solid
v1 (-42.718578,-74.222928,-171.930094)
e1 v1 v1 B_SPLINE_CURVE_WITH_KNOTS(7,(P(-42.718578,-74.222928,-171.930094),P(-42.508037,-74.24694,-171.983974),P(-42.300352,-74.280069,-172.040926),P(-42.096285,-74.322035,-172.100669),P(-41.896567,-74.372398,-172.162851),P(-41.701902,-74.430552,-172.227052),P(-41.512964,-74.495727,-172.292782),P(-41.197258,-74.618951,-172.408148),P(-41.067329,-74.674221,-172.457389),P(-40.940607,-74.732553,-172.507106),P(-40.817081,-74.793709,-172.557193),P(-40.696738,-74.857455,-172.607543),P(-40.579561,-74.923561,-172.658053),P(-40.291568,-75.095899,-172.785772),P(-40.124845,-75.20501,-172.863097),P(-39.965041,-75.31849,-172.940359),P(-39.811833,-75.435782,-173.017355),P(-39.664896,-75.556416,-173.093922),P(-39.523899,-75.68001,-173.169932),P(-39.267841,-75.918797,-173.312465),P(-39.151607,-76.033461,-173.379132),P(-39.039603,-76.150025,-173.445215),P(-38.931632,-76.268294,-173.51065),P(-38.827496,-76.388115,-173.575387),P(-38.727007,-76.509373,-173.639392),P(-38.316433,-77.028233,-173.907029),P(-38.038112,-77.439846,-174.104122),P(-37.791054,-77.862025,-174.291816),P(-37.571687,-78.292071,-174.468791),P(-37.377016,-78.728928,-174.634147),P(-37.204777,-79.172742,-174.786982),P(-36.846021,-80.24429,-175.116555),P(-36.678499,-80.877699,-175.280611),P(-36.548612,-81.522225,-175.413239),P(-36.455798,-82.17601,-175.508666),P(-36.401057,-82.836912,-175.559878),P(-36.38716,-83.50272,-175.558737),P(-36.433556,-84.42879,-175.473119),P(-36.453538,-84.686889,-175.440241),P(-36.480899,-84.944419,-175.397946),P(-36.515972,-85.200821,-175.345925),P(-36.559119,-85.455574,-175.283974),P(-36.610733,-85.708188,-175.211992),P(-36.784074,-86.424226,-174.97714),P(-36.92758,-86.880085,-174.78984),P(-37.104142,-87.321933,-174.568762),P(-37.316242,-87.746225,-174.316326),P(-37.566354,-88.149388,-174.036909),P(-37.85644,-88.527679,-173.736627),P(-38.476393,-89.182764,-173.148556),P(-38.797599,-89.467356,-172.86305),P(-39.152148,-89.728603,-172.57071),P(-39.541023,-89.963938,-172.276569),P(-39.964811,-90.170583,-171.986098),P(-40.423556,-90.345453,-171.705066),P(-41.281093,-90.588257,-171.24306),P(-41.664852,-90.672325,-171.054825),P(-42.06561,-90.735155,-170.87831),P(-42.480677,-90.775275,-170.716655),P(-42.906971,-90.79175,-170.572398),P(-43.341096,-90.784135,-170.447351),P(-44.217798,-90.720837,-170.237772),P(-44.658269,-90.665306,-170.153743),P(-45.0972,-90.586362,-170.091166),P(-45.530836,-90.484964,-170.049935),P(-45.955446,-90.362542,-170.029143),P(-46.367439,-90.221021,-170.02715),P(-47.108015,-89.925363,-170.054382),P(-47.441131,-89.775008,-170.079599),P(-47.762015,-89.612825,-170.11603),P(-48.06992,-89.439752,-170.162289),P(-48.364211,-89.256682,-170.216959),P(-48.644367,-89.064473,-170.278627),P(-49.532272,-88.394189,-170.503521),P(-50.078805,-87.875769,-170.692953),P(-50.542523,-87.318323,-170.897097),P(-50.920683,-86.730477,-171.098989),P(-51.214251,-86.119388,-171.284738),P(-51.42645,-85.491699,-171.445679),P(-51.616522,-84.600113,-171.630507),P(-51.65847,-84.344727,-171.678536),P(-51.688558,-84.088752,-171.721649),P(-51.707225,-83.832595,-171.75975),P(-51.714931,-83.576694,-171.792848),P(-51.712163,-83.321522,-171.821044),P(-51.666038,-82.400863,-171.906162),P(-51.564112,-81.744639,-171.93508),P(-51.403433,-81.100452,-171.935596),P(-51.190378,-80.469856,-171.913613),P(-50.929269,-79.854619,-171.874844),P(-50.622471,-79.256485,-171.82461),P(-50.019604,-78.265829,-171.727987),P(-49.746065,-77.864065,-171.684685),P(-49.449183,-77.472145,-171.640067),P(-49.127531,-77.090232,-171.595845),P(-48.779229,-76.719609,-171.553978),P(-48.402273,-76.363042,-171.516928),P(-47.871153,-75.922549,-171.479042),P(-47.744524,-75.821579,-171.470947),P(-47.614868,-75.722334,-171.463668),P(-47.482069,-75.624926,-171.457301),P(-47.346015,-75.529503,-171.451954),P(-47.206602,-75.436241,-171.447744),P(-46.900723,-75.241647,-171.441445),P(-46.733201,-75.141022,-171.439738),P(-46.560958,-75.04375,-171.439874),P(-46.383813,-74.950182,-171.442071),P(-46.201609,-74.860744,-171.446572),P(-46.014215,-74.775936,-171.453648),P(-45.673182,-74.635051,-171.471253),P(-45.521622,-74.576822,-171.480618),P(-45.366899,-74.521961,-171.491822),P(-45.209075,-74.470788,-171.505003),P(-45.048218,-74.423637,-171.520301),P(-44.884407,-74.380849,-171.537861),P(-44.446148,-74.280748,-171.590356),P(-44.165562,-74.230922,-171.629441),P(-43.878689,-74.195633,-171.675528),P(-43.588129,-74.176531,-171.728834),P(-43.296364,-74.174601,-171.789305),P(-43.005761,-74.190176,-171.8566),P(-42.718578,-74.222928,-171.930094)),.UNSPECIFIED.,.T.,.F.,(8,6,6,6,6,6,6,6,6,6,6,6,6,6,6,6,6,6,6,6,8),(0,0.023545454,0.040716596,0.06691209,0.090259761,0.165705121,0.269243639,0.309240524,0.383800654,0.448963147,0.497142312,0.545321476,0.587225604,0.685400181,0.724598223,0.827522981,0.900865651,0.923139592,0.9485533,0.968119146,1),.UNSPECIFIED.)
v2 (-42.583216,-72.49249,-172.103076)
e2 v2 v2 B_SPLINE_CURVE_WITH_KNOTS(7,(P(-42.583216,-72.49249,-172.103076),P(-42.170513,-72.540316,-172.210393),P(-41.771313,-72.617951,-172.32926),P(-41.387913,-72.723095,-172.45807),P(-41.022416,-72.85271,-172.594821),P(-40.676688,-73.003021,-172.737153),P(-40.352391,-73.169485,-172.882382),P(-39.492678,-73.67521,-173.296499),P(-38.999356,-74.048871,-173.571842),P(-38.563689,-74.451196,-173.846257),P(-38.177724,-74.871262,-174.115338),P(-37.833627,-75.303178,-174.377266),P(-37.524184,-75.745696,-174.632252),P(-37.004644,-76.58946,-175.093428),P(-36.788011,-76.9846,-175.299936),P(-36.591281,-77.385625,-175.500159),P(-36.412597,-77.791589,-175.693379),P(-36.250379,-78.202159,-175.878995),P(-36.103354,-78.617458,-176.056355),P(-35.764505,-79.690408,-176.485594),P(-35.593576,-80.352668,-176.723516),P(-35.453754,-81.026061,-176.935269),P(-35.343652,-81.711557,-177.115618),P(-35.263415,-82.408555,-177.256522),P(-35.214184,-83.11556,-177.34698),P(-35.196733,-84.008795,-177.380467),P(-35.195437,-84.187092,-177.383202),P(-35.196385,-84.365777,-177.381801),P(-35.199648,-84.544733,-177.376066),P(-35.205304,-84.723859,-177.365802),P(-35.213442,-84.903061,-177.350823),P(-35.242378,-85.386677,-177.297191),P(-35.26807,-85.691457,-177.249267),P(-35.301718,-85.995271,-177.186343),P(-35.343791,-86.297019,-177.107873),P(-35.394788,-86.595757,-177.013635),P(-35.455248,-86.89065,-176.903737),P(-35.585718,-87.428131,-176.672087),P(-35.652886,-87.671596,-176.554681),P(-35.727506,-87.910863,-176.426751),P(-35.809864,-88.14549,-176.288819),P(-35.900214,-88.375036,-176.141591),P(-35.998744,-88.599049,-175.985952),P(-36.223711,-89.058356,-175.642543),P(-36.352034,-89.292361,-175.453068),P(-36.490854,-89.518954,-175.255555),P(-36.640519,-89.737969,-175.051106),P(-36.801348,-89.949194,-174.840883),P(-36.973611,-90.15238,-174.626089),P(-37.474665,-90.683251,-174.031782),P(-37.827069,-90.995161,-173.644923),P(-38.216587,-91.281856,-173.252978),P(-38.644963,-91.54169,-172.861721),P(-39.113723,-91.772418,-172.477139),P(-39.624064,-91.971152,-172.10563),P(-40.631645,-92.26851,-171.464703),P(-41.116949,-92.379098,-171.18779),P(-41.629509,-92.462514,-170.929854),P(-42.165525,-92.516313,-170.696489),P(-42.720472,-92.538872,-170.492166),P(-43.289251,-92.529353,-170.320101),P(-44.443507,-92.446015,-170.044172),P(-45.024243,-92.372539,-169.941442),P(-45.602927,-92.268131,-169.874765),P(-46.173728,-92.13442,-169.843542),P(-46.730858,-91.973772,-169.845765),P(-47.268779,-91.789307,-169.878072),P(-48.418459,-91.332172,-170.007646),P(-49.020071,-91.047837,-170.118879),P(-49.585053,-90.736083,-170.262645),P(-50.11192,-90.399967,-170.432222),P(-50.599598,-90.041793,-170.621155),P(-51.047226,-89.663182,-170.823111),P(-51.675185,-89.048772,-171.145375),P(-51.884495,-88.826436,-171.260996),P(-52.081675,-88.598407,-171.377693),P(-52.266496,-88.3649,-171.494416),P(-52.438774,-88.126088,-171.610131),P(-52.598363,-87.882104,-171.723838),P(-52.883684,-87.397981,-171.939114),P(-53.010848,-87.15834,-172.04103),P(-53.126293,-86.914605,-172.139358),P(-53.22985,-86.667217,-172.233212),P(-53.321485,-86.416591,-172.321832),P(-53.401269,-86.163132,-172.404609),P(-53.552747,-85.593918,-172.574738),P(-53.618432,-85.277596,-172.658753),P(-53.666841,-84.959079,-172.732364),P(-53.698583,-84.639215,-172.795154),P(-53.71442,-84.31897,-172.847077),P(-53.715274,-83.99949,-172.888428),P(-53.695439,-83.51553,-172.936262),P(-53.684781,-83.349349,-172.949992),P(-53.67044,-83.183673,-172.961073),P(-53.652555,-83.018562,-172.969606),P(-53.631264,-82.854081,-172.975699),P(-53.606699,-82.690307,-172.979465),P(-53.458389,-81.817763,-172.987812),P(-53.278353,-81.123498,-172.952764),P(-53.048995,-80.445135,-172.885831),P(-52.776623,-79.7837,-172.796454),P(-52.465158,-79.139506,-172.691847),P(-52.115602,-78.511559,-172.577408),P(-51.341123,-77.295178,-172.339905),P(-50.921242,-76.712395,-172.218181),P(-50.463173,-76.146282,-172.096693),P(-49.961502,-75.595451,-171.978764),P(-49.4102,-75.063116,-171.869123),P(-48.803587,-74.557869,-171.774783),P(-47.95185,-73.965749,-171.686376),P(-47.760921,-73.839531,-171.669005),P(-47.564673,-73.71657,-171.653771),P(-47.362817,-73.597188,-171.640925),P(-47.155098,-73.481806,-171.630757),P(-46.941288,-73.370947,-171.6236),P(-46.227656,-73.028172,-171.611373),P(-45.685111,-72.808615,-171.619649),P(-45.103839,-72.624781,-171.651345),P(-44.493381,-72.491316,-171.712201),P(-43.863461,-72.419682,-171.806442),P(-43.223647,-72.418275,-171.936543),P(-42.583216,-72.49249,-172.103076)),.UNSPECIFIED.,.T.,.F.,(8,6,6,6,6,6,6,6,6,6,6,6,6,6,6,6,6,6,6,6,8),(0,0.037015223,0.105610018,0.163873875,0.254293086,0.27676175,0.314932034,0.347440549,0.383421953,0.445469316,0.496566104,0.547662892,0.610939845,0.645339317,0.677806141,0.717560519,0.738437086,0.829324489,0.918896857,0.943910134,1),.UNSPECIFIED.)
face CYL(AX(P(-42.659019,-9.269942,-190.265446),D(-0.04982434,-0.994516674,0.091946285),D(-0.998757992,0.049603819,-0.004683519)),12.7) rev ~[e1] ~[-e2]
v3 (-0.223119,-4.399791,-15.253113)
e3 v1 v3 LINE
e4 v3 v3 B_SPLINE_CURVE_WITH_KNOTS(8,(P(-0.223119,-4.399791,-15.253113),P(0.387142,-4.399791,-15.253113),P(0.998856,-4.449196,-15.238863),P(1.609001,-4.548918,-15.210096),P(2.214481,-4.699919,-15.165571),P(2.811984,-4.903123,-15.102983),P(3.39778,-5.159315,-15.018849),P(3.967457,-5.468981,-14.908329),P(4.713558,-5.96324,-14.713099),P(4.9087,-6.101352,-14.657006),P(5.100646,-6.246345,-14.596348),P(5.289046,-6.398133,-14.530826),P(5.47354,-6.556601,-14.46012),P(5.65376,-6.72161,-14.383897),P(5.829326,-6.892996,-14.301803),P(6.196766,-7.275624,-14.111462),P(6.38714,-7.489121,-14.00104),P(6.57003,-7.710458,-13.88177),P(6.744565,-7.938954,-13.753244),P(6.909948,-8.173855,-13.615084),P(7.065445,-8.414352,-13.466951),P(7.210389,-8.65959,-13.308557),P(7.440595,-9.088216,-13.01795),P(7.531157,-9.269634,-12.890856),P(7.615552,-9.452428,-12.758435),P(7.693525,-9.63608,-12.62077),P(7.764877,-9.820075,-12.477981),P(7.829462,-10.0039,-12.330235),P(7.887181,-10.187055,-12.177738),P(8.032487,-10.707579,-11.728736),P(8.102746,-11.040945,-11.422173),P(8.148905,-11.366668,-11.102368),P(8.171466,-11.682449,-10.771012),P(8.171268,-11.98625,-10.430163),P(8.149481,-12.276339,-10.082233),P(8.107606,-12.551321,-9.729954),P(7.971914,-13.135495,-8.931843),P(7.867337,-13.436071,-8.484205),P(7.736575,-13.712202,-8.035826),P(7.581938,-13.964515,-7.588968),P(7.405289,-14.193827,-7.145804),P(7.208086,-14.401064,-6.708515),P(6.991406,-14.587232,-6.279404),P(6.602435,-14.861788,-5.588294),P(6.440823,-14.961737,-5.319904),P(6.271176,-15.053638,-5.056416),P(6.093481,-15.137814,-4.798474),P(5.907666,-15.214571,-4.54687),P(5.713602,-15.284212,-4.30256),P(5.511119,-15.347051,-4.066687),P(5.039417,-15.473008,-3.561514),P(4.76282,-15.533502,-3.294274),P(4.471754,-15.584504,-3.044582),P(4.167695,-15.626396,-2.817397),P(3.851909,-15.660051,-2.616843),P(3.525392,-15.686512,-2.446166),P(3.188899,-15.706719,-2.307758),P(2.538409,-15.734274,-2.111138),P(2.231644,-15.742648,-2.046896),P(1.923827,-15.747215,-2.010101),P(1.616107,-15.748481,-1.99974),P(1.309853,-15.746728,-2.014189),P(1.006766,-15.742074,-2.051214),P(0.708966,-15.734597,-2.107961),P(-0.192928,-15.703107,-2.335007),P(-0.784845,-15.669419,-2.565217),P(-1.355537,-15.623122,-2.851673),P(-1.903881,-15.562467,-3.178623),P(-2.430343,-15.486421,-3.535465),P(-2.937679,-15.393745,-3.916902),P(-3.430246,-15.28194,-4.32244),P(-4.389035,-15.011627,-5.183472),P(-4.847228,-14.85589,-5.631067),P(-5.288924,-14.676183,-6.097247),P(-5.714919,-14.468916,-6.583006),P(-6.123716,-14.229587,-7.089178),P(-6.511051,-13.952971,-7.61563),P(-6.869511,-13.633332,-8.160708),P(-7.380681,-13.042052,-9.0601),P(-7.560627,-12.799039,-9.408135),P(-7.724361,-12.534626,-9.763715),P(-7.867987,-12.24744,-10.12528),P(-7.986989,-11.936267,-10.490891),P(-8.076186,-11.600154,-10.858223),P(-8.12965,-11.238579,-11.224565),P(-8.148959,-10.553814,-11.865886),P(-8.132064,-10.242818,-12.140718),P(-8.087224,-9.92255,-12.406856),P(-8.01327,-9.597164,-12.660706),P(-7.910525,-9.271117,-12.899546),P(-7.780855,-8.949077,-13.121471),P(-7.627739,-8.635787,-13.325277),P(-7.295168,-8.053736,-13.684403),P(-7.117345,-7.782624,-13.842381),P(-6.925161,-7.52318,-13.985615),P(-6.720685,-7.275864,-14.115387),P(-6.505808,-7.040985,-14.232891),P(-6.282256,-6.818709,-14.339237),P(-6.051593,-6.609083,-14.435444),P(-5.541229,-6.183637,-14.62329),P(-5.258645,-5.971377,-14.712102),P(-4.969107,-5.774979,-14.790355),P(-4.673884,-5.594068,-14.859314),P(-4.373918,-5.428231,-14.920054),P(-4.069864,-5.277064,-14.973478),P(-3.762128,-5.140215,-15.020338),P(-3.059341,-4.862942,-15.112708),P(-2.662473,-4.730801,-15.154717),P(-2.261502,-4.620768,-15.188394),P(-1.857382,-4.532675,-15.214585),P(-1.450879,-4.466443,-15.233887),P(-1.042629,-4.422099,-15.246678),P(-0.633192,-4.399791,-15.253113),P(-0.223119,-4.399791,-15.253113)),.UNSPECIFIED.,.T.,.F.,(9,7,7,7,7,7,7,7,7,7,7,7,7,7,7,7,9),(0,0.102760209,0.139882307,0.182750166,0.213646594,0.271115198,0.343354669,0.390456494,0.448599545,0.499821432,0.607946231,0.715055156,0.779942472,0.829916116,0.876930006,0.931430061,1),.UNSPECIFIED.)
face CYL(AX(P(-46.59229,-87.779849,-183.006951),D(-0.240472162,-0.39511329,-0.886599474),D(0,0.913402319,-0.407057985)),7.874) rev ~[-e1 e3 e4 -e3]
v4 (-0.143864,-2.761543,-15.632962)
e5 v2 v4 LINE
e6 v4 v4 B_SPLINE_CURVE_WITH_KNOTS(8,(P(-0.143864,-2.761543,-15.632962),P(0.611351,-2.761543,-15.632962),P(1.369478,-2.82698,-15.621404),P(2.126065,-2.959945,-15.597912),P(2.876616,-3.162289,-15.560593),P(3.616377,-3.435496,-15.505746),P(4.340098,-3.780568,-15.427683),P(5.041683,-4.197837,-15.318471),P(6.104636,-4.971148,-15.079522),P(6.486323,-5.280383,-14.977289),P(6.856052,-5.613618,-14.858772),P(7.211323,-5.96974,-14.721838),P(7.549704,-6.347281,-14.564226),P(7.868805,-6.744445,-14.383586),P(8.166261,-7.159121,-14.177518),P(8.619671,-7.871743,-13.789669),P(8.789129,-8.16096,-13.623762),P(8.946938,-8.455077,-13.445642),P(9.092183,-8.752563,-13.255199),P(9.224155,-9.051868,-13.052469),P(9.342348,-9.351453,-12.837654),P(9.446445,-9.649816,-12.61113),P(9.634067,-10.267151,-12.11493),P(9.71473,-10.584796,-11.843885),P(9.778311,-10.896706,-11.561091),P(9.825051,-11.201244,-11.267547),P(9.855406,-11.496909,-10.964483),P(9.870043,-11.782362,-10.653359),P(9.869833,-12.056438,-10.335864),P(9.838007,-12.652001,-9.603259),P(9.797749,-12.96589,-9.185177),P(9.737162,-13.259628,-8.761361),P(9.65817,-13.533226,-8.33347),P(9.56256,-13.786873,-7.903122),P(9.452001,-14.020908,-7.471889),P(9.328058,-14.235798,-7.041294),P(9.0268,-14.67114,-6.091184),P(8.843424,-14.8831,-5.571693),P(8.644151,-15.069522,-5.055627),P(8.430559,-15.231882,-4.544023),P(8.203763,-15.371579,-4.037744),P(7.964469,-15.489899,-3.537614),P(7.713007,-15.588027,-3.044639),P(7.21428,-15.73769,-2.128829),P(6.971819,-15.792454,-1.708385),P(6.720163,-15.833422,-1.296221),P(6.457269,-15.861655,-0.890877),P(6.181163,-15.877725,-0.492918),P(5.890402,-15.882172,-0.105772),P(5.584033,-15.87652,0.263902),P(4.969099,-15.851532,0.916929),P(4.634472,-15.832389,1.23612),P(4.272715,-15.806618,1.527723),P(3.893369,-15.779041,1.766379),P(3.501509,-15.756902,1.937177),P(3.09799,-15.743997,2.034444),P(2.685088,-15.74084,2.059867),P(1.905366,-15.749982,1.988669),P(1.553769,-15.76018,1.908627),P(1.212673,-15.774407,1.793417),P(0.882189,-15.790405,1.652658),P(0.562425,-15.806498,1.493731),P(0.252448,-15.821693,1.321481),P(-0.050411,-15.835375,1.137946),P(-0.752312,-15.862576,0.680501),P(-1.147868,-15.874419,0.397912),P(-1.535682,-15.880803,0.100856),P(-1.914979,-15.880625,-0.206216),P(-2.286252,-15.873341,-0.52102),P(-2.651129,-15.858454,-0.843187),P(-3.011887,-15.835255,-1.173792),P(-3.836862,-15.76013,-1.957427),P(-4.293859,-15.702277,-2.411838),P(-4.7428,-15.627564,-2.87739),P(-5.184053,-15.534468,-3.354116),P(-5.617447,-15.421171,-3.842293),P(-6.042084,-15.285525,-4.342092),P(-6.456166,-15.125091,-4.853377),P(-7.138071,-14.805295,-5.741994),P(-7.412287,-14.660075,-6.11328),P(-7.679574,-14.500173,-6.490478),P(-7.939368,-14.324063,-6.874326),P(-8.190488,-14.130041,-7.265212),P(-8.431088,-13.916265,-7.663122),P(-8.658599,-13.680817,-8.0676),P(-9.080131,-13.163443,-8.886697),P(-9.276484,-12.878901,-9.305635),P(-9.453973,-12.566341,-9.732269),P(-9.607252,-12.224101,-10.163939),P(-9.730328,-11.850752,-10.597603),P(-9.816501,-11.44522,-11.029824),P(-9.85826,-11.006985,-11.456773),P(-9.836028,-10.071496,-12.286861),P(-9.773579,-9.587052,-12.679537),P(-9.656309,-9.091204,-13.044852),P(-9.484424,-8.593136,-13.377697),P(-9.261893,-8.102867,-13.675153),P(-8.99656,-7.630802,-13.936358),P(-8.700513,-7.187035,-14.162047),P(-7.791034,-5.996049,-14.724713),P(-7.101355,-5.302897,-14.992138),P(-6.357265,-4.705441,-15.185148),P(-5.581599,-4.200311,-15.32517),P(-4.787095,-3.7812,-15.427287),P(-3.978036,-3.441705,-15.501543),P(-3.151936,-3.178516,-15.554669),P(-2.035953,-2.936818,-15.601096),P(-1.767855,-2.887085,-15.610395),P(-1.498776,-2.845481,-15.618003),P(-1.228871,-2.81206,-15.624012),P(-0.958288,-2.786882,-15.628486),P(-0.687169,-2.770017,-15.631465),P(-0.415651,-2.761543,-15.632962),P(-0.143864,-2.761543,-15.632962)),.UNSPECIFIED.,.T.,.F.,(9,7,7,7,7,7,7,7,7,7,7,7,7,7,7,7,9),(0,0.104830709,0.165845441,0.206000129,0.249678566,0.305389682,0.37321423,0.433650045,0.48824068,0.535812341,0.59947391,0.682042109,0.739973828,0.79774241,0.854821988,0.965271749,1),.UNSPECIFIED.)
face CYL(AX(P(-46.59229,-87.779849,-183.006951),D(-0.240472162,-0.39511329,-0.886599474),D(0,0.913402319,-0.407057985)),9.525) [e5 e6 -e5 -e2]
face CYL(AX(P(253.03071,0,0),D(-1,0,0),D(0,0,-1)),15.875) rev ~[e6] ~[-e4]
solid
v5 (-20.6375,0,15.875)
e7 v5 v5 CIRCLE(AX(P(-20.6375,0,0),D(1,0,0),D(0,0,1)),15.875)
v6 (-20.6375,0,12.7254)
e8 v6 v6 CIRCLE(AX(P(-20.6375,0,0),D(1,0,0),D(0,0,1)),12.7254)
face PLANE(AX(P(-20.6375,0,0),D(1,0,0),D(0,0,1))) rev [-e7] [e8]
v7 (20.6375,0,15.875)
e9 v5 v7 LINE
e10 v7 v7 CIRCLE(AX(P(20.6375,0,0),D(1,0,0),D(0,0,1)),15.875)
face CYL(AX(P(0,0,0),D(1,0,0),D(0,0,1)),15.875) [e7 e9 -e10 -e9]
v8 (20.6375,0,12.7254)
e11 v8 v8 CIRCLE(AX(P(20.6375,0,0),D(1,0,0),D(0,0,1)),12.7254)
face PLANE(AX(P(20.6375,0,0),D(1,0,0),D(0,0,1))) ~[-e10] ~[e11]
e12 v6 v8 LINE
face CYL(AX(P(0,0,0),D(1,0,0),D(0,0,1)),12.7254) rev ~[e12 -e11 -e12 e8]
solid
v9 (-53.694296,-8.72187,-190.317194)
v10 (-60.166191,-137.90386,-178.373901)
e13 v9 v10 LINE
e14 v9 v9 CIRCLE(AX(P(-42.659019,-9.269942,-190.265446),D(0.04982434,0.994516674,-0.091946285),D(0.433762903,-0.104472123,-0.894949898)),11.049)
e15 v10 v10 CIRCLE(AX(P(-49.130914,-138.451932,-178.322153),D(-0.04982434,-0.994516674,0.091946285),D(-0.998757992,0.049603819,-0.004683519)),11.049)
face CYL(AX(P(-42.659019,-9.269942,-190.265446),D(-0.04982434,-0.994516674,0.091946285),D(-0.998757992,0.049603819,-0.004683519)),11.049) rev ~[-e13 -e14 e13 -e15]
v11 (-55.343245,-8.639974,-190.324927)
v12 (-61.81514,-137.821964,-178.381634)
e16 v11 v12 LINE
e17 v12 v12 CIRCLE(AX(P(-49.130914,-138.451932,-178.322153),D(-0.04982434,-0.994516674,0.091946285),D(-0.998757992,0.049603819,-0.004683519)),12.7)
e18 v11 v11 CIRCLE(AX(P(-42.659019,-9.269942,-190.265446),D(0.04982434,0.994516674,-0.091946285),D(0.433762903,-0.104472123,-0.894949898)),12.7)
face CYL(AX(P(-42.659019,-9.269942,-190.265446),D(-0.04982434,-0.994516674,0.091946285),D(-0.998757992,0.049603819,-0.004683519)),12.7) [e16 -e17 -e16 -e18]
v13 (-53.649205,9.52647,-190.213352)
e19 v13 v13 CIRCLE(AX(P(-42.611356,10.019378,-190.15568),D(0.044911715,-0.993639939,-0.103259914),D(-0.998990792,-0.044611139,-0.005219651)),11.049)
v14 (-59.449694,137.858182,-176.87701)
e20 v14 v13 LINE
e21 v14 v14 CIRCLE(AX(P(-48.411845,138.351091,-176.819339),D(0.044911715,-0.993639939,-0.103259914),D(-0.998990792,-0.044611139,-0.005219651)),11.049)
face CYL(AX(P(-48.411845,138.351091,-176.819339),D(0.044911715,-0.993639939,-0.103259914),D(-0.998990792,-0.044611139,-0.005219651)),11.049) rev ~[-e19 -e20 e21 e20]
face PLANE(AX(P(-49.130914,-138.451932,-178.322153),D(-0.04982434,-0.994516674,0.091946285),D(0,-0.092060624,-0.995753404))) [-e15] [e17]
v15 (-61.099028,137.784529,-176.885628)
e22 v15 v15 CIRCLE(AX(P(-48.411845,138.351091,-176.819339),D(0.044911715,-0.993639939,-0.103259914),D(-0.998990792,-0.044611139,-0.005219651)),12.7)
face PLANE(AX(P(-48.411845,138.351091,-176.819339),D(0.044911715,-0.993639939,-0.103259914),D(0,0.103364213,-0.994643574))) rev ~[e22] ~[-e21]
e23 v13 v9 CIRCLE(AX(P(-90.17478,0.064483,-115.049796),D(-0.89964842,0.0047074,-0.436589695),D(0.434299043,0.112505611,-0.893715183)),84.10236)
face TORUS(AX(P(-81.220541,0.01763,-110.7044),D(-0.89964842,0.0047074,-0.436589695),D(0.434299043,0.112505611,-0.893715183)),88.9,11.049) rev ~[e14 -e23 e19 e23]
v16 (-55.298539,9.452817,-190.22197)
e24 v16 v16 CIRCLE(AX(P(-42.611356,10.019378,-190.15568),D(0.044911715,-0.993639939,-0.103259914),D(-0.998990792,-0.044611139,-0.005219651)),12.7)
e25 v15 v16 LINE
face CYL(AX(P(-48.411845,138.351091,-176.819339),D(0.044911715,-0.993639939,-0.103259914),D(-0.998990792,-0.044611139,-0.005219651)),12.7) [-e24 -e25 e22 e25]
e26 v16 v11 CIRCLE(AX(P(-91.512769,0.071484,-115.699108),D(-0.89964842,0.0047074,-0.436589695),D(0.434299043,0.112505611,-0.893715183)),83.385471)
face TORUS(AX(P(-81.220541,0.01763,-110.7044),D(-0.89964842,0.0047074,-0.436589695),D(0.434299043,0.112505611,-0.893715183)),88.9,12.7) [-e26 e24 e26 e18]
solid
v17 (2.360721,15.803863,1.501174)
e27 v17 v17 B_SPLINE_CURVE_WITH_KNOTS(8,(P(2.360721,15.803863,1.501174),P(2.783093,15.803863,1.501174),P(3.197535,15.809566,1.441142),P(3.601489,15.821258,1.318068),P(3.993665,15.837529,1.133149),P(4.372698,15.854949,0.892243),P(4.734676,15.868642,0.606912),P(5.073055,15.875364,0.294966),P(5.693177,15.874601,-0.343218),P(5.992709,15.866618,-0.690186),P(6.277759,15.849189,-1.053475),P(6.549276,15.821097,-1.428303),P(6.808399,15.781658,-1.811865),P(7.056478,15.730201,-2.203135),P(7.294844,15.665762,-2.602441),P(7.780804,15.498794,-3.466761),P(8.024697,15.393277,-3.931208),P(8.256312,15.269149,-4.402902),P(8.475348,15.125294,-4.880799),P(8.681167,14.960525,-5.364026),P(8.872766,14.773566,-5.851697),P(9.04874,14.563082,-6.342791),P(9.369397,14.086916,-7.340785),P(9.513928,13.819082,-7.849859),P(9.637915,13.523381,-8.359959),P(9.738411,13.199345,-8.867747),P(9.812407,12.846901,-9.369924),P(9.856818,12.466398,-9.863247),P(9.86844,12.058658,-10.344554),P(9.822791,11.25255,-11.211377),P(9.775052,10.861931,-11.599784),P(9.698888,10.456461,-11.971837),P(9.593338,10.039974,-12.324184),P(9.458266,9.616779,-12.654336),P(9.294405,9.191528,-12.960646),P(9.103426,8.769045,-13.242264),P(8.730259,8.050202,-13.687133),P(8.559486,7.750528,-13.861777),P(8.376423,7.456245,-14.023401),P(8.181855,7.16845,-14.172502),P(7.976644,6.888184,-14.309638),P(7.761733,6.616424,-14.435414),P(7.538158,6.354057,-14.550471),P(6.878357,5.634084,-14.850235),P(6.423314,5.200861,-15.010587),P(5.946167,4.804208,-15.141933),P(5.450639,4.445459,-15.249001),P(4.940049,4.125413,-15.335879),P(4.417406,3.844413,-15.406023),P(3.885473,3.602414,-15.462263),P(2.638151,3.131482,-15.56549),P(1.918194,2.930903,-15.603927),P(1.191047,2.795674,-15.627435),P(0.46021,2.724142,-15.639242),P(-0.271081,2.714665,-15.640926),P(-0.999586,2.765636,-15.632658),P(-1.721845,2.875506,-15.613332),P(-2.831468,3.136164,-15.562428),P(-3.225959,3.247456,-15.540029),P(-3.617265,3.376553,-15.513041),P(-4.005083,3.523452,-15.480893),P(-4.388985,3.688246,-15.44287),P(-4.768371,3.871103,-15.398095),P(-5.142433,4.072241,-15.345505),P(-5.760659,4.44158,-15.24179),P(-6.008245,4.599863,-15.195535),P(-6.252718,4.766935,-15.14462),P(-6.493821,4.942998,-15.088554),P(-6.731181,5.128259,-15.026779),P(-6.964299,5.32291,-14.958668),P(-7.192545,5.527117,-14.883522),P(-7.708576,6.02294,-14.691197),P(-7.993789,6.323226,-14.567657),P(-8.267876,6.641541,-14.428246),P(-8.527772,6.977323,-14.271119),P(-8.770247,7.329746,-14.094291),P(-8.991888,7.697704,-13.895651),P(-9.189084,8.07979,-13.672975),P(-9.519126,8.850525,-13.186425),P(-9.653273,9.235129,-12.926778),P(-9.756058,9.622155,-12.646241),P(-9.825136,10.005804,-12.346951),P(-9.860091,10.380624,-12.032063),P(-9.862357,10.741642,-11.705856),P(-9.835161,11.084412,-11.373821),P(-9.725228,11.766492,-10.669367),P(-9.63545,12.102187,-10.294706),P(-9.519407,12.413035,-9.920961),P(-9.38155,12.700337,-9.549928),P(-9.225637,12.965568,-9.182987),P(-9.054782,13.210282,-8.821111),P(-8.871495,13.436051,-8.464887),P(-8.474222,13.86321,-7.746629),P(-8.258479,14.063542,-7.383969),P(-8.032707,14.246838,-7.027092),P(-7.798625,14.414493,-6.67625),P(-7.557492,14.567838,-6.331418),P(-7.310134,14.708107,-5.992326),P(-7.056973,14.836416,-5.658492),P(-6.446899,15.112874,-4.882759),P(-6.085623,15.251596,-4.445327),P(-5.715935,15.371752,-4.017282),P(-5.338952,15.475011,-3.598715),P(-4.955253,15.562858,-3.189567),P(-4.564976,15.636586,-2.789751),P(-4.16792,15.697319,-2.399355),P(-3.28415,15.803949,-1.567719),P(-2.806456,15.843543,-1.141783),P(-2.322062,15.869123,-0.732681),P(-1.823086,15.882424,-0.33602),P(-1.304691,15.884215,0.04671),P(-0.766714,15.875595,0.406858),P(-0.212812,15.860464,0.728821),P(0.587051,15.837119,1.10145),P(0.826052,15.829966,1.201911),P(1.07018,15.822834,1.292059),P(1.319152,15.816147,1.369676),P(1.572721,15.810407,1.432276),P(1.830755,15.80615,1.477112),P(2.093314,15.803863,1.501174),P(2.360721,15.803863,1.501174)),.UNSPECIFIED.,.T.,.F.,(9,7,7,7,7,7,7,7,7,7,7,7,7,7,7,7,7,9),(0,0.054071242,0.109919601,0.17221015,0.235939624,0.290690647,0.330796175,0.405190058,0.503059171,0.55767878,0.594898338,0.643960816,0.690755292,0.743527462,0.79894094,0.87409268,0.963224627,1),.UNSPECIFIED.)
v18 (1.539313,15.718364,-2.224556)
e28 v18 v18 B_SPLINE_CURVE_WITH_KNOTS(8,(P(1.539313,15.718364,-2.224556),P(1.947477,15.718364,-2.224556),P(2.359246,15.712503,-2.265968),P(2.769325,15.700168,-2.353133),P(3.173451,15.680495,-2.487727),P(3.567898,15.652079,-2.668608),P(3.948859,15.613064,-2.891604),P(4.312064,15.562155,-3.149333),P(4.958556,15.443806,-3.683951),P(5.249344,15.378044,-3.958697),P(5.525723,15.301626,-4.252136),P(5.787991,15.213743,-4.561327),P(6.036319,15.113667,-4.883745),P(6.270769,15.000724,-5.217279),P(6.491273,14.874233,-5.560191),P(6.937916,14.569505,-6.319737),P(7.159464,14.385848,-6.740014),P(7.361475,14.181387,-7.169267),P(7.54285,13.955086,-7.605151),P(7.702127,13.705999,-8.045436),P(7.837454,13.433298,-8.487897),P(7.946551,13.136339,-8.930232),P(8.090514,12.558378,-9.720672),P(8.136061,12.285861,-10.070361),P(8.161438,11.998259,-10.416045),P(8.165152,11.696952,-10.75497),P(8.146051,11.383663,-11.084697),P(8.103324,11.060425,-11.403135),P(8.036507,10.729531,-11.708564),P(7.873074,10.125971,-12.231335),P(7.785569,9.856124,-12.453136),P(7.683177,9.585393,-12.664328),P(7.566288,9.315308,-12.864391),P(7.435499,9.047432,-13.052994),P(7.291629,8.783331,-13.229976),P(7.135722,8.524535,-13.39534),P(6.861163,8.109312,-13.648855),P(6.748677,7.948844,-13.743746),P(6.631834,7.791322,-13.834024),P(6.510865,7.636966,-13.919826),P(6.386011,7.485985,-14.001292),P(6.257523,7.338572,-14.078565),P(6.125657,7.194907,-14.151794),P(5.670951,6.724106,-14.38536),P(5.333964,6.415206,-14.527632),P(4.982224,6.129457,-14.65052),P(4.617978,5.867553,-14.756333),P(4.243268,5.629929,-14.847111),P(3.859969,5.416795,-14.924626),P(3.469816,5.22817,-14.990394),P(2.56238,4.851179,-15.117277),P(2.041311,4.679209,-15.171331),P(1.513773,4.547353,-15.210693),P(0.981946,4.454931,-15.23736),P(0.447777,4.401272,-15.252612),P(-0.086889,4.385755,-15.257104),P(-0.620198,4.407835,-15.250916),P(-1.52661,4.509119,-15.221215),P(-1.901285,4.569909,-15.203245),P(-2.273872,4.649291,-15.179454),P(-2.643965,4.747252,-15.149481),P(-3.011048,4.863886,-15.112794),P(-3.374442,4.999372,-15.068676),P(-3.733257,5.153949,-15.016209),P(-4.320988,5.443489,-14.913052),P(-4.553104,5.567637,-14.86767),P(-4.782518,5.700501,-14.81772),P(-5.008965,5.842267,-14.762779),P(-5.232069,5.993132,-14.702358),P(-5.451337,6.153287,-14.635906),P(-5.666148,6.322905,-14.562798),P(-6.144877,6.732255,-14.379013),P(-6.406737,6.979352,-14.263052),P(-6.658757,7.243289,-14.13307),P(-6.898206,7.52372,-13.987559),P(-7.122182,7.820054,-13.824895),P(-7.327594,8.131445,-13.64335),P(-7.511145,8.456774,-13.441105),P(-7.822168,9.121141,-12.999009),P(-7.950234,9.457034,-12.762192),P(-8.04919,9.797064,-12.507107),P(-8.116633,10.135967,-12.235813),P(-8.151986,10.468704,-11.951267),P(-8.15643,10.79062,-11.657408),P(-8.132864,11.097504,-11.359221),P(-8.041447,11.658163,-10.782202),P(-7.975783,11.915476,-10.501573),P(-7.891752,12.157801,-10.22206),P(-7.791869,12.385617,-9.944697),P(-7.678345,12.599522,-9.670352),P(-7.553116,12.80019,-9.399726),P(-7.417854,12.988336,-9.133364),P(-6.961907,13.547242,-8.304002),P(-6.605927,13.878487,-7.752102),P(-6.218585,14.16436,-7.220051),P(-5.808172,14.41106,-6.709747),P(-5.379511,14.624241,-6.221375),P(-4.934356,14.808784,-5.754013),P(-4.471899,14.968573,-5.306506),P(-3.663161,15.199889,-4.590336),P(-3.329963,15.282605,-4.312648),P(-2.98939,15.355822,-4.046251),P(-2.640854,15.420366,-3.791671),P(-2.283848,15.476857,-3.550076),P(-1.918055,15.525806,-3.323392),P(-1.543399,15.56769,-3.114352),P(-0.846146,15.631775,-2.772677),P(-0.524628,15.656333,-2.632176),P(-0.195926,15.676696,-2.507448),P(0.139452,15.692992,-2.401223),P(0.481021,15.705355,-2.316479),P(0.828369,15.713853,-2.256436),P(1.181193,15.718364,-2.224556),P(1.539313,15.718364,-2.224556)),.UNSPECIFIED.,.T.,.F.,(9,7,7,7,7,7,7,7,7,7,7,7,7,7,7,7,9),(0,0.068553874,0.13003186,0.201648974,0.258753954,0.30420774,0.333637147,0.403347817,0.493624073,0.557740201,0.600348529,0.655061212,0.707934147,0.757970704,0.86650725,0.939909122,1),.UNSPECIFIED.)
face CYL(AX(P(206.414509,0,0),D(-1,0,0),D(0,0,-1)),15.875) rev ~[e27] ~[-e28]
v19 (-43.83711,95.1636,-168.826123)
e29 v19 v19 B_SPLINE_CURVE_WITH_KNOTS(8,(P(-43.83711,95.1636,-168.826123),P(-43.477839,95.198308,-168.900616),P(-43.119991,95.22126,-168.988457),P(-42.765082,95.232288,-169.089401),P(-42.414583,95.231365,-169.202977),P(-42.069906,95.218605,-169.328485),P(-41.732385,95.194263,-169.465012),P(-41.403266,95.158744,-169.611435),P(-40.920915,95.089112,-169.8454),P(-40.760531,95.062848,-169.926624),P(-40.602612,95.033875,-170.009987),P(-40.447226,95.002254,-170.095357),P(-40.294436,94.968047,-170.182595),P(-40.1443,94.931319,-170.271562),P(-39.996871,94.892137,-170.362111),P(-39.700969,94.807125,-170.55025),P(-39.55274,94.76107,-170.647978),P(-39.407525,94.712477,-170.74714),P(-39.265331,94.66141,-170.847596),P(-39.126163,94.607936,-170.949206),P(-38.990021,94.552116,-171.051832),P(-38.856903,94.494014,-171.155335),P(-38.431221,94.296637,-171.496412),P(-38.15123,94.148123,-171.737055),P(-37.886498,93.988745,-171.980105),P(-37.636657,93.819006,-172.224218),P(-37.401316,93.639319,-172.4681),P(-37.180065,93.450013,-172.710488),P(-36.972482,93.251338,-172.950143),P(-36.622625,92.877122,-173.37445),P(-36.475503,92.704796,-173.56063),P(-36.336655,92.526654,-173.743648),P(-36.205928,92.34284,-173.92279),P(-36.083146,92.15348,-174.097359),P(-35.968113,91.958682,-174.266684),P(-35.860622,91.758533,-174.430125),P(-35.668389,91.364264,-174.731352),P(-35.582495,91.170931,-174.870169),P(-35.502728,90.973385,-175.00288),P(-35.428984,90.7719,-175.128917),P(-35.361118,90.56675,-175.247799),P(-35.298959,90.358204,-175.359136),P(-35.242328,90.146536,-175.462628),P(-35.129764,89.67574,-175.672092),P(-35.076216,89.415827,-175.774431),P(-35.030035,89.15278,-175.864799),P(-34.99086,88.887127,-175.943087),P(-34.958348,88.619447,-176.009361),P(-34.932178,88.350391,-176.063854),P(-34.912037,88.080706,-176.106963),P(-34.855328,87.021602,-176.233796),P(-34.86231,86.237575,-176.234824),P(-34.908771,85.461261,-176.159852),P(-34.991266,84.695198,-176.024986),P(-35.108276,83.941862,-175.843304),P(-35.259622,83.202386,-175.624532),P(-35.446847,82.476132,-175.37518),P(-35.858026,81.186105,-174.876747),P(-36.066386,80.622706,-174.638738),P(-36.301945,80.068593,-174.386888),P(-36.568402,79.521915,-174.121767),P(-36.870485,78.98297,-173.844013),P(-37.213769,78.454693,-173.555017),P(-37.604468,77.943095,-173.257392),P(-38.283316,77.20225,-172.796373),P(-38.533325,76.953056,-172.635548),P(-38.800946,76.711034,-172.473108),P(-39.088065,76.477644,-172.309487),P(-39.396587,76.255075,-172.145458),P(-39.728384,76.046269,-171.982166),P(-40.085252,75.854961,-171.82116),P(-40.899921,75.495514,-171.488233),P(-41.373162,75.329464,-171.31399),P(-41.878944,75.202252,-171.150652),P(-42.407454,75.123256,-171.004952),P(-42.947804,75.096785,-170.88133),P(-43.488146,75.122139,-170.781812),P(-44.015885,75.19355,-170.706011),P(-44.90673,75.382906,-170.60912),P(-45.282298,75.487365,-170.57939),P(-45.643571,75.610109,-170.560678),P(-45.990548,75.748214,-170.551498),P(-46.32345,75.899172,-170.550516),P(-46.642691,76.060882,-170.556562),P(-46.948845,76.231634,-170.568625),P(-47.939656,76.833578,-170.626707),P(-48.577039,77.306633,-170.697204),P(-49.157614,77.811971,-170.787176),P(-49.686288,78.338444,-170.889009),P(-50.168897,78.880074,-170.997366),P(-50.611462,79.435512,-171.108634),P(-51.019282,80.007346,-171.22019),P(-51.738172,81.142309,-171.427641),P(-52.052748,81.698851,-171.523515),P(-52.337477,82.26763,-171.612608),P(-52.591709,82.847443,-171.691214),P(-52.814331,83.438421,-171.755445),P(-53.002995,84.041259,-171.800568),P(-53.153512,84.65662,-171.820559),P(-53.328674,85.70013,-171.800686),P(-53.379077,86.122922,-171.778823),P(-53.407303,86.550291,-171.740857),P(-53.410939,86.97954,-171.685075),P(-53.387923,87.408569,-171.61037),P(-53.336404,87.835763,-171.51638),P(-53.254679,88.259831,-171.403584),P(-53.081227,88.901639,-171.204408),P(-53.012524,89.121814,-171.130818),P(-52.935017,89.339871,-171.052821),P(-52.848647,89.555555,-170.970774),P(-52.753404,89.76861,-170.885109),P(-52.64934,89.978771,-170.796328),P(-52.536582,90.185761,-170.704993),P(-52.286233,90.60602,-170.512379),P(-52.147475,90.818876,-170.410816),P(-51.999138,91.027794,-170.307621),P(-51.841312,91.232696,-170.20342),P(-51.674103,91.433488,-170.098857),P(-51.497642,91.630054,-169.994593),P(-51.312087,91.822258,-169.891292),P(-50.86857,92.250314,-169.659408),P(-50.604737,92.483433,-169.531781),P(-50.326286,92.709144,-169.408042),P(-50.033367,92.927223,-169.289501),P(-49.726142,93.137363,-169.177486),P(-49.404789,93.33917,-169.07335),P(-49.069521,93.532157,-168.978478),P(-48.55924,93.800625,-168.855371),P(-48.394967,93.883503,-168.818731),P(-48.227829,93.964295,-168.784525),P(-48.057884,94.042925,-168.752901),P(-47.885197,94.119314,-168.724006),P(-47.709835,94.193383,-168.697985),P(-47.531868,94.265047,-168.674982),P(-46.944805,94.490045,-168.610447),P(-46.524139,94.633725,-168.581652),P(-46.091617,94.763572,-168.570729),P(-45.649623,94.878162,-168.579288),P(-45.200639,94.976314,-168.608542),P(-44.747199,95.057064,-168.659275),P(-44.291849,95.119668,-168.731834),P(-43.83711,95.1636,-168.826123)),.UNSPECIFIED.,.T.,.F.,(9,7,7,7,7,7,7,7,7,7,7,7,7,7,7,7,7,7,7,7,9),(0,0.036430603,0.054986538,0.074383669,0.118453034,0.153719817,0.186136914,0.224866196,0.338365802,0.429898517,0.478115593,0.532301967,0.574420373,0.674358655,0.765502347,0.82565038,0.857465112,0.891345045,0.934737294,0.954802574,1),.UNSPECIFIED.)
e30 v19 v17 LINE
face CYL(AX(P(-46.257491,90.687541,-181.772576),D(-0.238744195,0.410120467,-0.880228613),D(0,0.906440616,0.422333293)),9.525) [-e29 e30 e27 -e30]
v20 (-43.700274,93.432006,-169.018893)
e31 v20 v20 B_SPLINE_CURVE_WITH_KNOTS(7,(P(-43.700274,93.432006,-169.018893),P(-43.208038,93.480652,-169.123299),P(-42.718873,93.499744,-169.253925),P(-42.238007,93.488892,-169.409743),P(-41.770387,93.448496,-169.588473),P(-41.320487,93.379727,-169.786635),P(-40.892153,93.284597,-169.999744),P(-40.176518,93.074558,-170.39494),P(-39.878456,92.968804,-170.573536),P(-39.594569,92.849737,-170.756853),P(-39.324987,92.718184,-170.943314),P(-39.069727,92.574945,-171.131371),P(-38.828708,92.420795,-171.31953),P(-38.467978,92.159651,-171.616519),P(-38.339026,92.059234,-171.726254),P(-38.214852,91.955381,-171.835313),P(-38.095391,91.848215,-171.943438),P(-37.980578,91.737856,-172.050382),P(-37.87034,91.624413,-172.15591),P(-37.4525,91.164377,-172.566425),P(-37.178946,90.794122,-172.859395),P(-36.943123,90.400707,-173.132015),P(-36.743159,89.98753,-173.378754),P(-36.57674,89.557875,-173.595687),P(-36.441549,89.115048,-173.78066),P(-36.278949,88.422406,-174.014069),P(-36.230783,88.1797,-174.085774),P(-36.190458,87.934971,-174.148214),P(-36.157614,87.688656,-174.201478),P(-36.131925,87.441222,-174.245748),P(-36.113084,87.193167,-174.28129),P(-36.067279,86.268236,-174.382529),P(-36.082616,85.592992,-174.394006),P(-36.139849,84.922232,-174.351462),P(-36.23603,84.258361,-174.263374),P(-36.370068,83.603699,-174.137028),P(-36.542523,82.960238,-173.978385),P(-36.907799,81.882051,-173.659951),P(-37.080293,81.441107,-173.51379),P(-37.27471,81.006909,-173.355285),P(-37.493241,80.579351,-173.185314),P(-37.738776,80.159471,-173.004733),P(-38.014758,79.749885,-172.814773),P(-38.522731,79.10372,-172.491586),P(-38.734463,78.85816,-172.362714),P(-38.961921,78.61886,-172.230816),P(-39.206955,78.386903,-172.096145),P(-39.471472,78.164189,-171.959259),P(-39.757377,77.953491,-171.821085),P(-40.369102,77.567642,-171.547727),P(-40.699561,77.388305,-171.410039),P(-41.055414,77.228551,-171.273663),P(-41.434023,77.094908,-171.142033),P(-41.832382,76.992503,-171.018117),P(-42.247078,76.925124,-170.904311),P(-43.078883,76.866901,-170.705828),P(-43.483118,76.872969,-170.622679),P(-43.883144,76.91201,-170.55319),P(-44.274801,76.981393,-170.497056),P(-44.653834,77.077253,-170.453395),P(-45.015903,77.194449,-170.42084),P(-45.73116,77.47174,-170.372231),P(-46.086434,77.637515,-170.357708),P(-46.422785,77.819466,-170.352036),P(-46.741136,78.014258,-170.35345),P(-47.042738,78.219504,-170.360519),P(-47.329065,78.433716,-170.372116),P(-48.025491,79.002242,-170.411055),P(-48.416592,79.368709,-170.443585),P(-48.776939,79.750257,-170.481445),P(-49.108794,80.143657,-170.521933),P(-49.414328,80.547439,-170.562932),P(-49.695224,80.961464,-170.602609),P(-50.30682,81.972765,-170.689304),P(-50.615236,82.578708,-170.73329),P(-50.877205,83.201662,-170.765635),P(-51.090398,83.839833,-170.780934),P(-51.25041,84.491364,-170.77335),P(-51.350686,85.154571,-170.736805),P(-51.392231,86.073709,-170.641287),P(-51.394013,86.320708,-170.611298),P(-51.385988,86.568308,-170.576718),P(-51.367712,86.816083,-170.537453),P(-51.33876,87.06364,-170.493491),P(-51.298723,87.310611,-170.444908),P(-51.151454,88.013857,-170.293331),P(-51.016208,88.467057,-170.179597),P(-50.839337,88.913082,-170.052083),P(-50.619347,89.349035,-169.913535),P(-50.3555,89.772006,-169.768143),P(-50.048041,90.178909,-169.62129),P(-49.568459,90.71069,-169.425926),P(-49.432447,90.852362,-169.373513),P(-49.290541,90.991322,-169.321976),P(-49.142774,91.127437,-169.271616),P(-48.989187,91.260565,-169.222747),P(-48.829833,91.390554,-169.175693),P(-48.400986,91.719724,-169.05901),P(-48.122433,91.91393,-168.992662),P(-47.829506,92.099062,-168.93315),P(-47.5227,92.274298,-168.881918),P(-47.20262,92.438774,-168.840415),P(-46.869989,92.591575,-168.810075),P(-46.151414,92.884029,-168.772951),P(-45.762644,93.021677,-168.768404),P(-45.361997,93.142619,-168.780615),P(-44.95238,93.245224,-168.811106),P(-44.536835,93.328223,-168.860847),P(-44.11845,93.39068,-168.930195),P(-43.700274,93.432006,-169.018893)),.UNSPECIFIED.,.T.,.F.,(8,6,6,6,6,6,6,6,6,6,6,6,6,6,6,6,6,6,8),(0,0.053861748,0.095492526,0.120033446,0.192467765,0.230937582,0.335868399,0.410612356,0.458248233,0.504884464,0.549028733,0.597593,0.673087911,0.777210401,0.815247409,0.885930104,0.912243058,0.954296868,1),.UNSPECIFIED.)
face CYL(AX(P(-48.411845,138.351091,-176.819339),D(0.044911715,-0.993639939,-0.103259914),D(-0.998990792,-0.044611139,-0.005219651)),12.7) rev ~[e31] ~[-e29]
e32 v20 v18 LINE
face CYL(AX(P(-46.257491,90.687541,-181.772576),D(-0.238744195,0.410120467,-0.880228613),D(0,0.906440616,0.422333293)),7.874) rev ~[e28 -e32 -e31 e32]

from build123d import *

# Parameters (mm, degrees)
SKETCH6_W                = 41.275
SKETCH6_H                = 3.1496
BOSS_EXTRUDE1_REACH      = 236.297
BOSS_EXTRUDE1_END_RADIUS = 15.875
SKETCH10_R               = 9.525
SKETCH10_R_2             = 7.874
BOSS_EXTRUDE2_REACH      = 283.248
BOSS_EXTRUDE2_END_RADIUS = 15.875
SKETCH11_R               = 9.525
SKETCH11_R_2             = 7.874
SKETCH12_R               = 12.7
SKETCH15_R               = 12.7
SKETCH15_R_2             = 11.049


with BuildPart() as part:
    # Sketch6 → Revolve2 (revolve)
    with BuildSketch(Plane(origin=(0, 0, 0), x_dir=(1, 0, 0), z_dir=(0, 1, 0)), mode=Mode.PRIVATE) as revolve2_sk:
        with Locations((0, 14.3002)):
            Rectangle(SKETCH6_W, SKETCH6_H)
    revolve(revolve2_sk.sketch.rotate(Axis((-66.78681796, 0, 0), (1, 0, 0)), 180), axis=Axis((-66.78681796, 0, 0), (1, 0, 0)))


with BuildPart() as body_2:
    # Boss-Extrude1: up to this cylinder (the profile starts outside it)
    boss_extrude1_end = Plane(origin=(-46.257491, 0, 0), z_dir=(-1, 0, 0)) * Cylinder(BOSS_EXTRUDE1_END_RADIUS, 505.344, mode=Mode.PRIVATE)
    # Sketch10 → Boss-Extrude1 (new, up to the surface)
    with BuildSketch(Plane(origin=(-46.257490993, 90.687540521, -181.772575541), x_dir=(-0.9710805667769234, -0.09902369397430037, 0.2172483391418525), z_dir=(-0.23874419476117373, 0.4101204671704958, -0.8802286134156814)), mode=Mode.PRIVATE) as boss_extrude1_sk1:
        with Locations(Location((0, 0, 0), (0, 0, 89.885860526))):
            Circle(SKETCH10_R)
        with Locations(Location((0, 0, 0), (0, 0, 89.885860526))):
            Circle(SKETCH10_R_2, mode=Mode.SUBTRACT)
    boss_extrude1_tool1 = extrude(boss_extrude1_sk1.sketch, amount=-BOSS_EXTRUDE1_REACH, mode=Mode.PRIVATE) - boss_extrude1_end
    add(boss_extrude1_tool1.solids().sort_by_distance((-46.257491, 82.297896, -185.68152))[0])


with BuildPart() as body_3:
    # Boss-Extrude2: up to this cylinder (the profile starts outside it)
    boss_extrude2_end = Plane(origin=(-46.59229, 0, 0), z_dir=(-1, 0, 0)) * Cylinder(BOSS_EXTRUDE2_END_RADIUS, 599.246, mode=Mode.PRIVATE)
    # Sketch11 → Boss-Extrude2 (new, up to the surface)
    with BuildSketch(Plane(origin=(-46.592290414, -87.779849456, -183.006951233), x_dir=(-0.9706542952078342, 0.09961561790365697, 0.21887660419573265), z_dir=(-0.24047216176870762, -0.3951132900155316, -0.8865994740960469)), mode=Mode.PRIVATE) as boss_extrude2_sk1:
        with Locations(Location((0, 0, 0), (0, 0, 89.891500811))):
            Circle(SKETCH11_R)
        with Locations(Location((0, 0, 0), (0, 0, 89.891500811))):
            Circle(SKETCH11_R_2, mode=Mode.SUBTRACT)
    boss_extrude2_tool1 = extrude(boss_extrude2_sk1.sketch, amount=-BOSS_EXTRUDE2_REACH, mode=Mode.PRIVATE) - boss_extrude2_end
    add(boss_extrude2_tool1.solids().sort_by_distance((-46.59229, -96.233929, -179.239388))[0])


with BuildPart() as cut_sweep1_tool:
    # Cut-Sweep1: sweep along a curve in space
    with BuildLine() as cut_sweep1_path:
        Line((-48.411844599, 138.351090877, -176.819338526), (-42.611355849, 10.019378374, -190.15568011))
        ThreePointArc((-42.611355849, 10.019378374, -190.15568011), (-42.406082457, 0.376838357, -190.682639824), (-42.659018694, -9.269942166, -190.265446224))
        Line((-42.659018694, -9.269942166, -190.265446224), (-49.130913586, -138.45193213, -178.322153213))
    # Sketch12 → Cut-Sweep1 (sweep)
    with BuildSketch(Plane(origin=(-49.130913586, -138.45193213, -178.322153213), x_dir=(-0.9987579915812498, 0.049603819400959905, -0.004683519341809774), z_dir=(-0.049824339966109084, -0.9945166744943245, 0.09194628486073564))):
        Circle(SKETCH12_R)
    sweep(path=cut_sweep1_path.line)


with BuildPart() as body_2_1:
    add(body_2.part)

    # Cut-Sweep1: cut by cut_sweep1_tool
    add(cut_sweep1_tool.part, mode=Mode.SUBTRACT)


with BuildPart() as body_3_1:
    add(body_3.part)

    # Cut-Sweep1: cut by cut_sweep1_tool
    add(cut_sweep1_tool.part, mode=Mode.SUBTRACT)


with BuildPart() as body_4:
    # Sweep2: sweep along a path in Sketch14
    with BuildLine(Plane(origin=(-109.219490339, 0.571489784, -53.003043086), x_dir=(0.4365945323887518, 5.986852696490802e-08, -0.8996583875495429), z_dir=(0.899648419573701, -0.004707400477552739, 0.43658969472410386))) as sweep2_path:
        Line((137.940662614, 137.781119432), (152.47126817, 9.447984144))
        ThreePointArc((152.47126817, 9.447984144), (153.03497256, -0.194662746), (152.549209682, -9.841550126))
        Line((152.549209682, -9.841550126), (138.978724292, -139.024970613))
    # Sketch15 → Sweep2 (sweep)
    with BuildSketch(Plane(origin=(-49.130913586, -138.45193213, -178.322153213), x_dir=(-0.9987579915812498, 0.049603819400959905, -0.004683519341809774), z_dir=(-0.049824339966109084, -0.9945166744943245, 0.09194628486073564))):
        Circle(SKETCH15_R)
        Circle(SKETCH15_R_2, mode=Mode.SUBTRACT)
    sweep(path=sweep2_path.line)


solid = Compound([part.part, body_2_1.part, body_3_1.part, body_4.part])
